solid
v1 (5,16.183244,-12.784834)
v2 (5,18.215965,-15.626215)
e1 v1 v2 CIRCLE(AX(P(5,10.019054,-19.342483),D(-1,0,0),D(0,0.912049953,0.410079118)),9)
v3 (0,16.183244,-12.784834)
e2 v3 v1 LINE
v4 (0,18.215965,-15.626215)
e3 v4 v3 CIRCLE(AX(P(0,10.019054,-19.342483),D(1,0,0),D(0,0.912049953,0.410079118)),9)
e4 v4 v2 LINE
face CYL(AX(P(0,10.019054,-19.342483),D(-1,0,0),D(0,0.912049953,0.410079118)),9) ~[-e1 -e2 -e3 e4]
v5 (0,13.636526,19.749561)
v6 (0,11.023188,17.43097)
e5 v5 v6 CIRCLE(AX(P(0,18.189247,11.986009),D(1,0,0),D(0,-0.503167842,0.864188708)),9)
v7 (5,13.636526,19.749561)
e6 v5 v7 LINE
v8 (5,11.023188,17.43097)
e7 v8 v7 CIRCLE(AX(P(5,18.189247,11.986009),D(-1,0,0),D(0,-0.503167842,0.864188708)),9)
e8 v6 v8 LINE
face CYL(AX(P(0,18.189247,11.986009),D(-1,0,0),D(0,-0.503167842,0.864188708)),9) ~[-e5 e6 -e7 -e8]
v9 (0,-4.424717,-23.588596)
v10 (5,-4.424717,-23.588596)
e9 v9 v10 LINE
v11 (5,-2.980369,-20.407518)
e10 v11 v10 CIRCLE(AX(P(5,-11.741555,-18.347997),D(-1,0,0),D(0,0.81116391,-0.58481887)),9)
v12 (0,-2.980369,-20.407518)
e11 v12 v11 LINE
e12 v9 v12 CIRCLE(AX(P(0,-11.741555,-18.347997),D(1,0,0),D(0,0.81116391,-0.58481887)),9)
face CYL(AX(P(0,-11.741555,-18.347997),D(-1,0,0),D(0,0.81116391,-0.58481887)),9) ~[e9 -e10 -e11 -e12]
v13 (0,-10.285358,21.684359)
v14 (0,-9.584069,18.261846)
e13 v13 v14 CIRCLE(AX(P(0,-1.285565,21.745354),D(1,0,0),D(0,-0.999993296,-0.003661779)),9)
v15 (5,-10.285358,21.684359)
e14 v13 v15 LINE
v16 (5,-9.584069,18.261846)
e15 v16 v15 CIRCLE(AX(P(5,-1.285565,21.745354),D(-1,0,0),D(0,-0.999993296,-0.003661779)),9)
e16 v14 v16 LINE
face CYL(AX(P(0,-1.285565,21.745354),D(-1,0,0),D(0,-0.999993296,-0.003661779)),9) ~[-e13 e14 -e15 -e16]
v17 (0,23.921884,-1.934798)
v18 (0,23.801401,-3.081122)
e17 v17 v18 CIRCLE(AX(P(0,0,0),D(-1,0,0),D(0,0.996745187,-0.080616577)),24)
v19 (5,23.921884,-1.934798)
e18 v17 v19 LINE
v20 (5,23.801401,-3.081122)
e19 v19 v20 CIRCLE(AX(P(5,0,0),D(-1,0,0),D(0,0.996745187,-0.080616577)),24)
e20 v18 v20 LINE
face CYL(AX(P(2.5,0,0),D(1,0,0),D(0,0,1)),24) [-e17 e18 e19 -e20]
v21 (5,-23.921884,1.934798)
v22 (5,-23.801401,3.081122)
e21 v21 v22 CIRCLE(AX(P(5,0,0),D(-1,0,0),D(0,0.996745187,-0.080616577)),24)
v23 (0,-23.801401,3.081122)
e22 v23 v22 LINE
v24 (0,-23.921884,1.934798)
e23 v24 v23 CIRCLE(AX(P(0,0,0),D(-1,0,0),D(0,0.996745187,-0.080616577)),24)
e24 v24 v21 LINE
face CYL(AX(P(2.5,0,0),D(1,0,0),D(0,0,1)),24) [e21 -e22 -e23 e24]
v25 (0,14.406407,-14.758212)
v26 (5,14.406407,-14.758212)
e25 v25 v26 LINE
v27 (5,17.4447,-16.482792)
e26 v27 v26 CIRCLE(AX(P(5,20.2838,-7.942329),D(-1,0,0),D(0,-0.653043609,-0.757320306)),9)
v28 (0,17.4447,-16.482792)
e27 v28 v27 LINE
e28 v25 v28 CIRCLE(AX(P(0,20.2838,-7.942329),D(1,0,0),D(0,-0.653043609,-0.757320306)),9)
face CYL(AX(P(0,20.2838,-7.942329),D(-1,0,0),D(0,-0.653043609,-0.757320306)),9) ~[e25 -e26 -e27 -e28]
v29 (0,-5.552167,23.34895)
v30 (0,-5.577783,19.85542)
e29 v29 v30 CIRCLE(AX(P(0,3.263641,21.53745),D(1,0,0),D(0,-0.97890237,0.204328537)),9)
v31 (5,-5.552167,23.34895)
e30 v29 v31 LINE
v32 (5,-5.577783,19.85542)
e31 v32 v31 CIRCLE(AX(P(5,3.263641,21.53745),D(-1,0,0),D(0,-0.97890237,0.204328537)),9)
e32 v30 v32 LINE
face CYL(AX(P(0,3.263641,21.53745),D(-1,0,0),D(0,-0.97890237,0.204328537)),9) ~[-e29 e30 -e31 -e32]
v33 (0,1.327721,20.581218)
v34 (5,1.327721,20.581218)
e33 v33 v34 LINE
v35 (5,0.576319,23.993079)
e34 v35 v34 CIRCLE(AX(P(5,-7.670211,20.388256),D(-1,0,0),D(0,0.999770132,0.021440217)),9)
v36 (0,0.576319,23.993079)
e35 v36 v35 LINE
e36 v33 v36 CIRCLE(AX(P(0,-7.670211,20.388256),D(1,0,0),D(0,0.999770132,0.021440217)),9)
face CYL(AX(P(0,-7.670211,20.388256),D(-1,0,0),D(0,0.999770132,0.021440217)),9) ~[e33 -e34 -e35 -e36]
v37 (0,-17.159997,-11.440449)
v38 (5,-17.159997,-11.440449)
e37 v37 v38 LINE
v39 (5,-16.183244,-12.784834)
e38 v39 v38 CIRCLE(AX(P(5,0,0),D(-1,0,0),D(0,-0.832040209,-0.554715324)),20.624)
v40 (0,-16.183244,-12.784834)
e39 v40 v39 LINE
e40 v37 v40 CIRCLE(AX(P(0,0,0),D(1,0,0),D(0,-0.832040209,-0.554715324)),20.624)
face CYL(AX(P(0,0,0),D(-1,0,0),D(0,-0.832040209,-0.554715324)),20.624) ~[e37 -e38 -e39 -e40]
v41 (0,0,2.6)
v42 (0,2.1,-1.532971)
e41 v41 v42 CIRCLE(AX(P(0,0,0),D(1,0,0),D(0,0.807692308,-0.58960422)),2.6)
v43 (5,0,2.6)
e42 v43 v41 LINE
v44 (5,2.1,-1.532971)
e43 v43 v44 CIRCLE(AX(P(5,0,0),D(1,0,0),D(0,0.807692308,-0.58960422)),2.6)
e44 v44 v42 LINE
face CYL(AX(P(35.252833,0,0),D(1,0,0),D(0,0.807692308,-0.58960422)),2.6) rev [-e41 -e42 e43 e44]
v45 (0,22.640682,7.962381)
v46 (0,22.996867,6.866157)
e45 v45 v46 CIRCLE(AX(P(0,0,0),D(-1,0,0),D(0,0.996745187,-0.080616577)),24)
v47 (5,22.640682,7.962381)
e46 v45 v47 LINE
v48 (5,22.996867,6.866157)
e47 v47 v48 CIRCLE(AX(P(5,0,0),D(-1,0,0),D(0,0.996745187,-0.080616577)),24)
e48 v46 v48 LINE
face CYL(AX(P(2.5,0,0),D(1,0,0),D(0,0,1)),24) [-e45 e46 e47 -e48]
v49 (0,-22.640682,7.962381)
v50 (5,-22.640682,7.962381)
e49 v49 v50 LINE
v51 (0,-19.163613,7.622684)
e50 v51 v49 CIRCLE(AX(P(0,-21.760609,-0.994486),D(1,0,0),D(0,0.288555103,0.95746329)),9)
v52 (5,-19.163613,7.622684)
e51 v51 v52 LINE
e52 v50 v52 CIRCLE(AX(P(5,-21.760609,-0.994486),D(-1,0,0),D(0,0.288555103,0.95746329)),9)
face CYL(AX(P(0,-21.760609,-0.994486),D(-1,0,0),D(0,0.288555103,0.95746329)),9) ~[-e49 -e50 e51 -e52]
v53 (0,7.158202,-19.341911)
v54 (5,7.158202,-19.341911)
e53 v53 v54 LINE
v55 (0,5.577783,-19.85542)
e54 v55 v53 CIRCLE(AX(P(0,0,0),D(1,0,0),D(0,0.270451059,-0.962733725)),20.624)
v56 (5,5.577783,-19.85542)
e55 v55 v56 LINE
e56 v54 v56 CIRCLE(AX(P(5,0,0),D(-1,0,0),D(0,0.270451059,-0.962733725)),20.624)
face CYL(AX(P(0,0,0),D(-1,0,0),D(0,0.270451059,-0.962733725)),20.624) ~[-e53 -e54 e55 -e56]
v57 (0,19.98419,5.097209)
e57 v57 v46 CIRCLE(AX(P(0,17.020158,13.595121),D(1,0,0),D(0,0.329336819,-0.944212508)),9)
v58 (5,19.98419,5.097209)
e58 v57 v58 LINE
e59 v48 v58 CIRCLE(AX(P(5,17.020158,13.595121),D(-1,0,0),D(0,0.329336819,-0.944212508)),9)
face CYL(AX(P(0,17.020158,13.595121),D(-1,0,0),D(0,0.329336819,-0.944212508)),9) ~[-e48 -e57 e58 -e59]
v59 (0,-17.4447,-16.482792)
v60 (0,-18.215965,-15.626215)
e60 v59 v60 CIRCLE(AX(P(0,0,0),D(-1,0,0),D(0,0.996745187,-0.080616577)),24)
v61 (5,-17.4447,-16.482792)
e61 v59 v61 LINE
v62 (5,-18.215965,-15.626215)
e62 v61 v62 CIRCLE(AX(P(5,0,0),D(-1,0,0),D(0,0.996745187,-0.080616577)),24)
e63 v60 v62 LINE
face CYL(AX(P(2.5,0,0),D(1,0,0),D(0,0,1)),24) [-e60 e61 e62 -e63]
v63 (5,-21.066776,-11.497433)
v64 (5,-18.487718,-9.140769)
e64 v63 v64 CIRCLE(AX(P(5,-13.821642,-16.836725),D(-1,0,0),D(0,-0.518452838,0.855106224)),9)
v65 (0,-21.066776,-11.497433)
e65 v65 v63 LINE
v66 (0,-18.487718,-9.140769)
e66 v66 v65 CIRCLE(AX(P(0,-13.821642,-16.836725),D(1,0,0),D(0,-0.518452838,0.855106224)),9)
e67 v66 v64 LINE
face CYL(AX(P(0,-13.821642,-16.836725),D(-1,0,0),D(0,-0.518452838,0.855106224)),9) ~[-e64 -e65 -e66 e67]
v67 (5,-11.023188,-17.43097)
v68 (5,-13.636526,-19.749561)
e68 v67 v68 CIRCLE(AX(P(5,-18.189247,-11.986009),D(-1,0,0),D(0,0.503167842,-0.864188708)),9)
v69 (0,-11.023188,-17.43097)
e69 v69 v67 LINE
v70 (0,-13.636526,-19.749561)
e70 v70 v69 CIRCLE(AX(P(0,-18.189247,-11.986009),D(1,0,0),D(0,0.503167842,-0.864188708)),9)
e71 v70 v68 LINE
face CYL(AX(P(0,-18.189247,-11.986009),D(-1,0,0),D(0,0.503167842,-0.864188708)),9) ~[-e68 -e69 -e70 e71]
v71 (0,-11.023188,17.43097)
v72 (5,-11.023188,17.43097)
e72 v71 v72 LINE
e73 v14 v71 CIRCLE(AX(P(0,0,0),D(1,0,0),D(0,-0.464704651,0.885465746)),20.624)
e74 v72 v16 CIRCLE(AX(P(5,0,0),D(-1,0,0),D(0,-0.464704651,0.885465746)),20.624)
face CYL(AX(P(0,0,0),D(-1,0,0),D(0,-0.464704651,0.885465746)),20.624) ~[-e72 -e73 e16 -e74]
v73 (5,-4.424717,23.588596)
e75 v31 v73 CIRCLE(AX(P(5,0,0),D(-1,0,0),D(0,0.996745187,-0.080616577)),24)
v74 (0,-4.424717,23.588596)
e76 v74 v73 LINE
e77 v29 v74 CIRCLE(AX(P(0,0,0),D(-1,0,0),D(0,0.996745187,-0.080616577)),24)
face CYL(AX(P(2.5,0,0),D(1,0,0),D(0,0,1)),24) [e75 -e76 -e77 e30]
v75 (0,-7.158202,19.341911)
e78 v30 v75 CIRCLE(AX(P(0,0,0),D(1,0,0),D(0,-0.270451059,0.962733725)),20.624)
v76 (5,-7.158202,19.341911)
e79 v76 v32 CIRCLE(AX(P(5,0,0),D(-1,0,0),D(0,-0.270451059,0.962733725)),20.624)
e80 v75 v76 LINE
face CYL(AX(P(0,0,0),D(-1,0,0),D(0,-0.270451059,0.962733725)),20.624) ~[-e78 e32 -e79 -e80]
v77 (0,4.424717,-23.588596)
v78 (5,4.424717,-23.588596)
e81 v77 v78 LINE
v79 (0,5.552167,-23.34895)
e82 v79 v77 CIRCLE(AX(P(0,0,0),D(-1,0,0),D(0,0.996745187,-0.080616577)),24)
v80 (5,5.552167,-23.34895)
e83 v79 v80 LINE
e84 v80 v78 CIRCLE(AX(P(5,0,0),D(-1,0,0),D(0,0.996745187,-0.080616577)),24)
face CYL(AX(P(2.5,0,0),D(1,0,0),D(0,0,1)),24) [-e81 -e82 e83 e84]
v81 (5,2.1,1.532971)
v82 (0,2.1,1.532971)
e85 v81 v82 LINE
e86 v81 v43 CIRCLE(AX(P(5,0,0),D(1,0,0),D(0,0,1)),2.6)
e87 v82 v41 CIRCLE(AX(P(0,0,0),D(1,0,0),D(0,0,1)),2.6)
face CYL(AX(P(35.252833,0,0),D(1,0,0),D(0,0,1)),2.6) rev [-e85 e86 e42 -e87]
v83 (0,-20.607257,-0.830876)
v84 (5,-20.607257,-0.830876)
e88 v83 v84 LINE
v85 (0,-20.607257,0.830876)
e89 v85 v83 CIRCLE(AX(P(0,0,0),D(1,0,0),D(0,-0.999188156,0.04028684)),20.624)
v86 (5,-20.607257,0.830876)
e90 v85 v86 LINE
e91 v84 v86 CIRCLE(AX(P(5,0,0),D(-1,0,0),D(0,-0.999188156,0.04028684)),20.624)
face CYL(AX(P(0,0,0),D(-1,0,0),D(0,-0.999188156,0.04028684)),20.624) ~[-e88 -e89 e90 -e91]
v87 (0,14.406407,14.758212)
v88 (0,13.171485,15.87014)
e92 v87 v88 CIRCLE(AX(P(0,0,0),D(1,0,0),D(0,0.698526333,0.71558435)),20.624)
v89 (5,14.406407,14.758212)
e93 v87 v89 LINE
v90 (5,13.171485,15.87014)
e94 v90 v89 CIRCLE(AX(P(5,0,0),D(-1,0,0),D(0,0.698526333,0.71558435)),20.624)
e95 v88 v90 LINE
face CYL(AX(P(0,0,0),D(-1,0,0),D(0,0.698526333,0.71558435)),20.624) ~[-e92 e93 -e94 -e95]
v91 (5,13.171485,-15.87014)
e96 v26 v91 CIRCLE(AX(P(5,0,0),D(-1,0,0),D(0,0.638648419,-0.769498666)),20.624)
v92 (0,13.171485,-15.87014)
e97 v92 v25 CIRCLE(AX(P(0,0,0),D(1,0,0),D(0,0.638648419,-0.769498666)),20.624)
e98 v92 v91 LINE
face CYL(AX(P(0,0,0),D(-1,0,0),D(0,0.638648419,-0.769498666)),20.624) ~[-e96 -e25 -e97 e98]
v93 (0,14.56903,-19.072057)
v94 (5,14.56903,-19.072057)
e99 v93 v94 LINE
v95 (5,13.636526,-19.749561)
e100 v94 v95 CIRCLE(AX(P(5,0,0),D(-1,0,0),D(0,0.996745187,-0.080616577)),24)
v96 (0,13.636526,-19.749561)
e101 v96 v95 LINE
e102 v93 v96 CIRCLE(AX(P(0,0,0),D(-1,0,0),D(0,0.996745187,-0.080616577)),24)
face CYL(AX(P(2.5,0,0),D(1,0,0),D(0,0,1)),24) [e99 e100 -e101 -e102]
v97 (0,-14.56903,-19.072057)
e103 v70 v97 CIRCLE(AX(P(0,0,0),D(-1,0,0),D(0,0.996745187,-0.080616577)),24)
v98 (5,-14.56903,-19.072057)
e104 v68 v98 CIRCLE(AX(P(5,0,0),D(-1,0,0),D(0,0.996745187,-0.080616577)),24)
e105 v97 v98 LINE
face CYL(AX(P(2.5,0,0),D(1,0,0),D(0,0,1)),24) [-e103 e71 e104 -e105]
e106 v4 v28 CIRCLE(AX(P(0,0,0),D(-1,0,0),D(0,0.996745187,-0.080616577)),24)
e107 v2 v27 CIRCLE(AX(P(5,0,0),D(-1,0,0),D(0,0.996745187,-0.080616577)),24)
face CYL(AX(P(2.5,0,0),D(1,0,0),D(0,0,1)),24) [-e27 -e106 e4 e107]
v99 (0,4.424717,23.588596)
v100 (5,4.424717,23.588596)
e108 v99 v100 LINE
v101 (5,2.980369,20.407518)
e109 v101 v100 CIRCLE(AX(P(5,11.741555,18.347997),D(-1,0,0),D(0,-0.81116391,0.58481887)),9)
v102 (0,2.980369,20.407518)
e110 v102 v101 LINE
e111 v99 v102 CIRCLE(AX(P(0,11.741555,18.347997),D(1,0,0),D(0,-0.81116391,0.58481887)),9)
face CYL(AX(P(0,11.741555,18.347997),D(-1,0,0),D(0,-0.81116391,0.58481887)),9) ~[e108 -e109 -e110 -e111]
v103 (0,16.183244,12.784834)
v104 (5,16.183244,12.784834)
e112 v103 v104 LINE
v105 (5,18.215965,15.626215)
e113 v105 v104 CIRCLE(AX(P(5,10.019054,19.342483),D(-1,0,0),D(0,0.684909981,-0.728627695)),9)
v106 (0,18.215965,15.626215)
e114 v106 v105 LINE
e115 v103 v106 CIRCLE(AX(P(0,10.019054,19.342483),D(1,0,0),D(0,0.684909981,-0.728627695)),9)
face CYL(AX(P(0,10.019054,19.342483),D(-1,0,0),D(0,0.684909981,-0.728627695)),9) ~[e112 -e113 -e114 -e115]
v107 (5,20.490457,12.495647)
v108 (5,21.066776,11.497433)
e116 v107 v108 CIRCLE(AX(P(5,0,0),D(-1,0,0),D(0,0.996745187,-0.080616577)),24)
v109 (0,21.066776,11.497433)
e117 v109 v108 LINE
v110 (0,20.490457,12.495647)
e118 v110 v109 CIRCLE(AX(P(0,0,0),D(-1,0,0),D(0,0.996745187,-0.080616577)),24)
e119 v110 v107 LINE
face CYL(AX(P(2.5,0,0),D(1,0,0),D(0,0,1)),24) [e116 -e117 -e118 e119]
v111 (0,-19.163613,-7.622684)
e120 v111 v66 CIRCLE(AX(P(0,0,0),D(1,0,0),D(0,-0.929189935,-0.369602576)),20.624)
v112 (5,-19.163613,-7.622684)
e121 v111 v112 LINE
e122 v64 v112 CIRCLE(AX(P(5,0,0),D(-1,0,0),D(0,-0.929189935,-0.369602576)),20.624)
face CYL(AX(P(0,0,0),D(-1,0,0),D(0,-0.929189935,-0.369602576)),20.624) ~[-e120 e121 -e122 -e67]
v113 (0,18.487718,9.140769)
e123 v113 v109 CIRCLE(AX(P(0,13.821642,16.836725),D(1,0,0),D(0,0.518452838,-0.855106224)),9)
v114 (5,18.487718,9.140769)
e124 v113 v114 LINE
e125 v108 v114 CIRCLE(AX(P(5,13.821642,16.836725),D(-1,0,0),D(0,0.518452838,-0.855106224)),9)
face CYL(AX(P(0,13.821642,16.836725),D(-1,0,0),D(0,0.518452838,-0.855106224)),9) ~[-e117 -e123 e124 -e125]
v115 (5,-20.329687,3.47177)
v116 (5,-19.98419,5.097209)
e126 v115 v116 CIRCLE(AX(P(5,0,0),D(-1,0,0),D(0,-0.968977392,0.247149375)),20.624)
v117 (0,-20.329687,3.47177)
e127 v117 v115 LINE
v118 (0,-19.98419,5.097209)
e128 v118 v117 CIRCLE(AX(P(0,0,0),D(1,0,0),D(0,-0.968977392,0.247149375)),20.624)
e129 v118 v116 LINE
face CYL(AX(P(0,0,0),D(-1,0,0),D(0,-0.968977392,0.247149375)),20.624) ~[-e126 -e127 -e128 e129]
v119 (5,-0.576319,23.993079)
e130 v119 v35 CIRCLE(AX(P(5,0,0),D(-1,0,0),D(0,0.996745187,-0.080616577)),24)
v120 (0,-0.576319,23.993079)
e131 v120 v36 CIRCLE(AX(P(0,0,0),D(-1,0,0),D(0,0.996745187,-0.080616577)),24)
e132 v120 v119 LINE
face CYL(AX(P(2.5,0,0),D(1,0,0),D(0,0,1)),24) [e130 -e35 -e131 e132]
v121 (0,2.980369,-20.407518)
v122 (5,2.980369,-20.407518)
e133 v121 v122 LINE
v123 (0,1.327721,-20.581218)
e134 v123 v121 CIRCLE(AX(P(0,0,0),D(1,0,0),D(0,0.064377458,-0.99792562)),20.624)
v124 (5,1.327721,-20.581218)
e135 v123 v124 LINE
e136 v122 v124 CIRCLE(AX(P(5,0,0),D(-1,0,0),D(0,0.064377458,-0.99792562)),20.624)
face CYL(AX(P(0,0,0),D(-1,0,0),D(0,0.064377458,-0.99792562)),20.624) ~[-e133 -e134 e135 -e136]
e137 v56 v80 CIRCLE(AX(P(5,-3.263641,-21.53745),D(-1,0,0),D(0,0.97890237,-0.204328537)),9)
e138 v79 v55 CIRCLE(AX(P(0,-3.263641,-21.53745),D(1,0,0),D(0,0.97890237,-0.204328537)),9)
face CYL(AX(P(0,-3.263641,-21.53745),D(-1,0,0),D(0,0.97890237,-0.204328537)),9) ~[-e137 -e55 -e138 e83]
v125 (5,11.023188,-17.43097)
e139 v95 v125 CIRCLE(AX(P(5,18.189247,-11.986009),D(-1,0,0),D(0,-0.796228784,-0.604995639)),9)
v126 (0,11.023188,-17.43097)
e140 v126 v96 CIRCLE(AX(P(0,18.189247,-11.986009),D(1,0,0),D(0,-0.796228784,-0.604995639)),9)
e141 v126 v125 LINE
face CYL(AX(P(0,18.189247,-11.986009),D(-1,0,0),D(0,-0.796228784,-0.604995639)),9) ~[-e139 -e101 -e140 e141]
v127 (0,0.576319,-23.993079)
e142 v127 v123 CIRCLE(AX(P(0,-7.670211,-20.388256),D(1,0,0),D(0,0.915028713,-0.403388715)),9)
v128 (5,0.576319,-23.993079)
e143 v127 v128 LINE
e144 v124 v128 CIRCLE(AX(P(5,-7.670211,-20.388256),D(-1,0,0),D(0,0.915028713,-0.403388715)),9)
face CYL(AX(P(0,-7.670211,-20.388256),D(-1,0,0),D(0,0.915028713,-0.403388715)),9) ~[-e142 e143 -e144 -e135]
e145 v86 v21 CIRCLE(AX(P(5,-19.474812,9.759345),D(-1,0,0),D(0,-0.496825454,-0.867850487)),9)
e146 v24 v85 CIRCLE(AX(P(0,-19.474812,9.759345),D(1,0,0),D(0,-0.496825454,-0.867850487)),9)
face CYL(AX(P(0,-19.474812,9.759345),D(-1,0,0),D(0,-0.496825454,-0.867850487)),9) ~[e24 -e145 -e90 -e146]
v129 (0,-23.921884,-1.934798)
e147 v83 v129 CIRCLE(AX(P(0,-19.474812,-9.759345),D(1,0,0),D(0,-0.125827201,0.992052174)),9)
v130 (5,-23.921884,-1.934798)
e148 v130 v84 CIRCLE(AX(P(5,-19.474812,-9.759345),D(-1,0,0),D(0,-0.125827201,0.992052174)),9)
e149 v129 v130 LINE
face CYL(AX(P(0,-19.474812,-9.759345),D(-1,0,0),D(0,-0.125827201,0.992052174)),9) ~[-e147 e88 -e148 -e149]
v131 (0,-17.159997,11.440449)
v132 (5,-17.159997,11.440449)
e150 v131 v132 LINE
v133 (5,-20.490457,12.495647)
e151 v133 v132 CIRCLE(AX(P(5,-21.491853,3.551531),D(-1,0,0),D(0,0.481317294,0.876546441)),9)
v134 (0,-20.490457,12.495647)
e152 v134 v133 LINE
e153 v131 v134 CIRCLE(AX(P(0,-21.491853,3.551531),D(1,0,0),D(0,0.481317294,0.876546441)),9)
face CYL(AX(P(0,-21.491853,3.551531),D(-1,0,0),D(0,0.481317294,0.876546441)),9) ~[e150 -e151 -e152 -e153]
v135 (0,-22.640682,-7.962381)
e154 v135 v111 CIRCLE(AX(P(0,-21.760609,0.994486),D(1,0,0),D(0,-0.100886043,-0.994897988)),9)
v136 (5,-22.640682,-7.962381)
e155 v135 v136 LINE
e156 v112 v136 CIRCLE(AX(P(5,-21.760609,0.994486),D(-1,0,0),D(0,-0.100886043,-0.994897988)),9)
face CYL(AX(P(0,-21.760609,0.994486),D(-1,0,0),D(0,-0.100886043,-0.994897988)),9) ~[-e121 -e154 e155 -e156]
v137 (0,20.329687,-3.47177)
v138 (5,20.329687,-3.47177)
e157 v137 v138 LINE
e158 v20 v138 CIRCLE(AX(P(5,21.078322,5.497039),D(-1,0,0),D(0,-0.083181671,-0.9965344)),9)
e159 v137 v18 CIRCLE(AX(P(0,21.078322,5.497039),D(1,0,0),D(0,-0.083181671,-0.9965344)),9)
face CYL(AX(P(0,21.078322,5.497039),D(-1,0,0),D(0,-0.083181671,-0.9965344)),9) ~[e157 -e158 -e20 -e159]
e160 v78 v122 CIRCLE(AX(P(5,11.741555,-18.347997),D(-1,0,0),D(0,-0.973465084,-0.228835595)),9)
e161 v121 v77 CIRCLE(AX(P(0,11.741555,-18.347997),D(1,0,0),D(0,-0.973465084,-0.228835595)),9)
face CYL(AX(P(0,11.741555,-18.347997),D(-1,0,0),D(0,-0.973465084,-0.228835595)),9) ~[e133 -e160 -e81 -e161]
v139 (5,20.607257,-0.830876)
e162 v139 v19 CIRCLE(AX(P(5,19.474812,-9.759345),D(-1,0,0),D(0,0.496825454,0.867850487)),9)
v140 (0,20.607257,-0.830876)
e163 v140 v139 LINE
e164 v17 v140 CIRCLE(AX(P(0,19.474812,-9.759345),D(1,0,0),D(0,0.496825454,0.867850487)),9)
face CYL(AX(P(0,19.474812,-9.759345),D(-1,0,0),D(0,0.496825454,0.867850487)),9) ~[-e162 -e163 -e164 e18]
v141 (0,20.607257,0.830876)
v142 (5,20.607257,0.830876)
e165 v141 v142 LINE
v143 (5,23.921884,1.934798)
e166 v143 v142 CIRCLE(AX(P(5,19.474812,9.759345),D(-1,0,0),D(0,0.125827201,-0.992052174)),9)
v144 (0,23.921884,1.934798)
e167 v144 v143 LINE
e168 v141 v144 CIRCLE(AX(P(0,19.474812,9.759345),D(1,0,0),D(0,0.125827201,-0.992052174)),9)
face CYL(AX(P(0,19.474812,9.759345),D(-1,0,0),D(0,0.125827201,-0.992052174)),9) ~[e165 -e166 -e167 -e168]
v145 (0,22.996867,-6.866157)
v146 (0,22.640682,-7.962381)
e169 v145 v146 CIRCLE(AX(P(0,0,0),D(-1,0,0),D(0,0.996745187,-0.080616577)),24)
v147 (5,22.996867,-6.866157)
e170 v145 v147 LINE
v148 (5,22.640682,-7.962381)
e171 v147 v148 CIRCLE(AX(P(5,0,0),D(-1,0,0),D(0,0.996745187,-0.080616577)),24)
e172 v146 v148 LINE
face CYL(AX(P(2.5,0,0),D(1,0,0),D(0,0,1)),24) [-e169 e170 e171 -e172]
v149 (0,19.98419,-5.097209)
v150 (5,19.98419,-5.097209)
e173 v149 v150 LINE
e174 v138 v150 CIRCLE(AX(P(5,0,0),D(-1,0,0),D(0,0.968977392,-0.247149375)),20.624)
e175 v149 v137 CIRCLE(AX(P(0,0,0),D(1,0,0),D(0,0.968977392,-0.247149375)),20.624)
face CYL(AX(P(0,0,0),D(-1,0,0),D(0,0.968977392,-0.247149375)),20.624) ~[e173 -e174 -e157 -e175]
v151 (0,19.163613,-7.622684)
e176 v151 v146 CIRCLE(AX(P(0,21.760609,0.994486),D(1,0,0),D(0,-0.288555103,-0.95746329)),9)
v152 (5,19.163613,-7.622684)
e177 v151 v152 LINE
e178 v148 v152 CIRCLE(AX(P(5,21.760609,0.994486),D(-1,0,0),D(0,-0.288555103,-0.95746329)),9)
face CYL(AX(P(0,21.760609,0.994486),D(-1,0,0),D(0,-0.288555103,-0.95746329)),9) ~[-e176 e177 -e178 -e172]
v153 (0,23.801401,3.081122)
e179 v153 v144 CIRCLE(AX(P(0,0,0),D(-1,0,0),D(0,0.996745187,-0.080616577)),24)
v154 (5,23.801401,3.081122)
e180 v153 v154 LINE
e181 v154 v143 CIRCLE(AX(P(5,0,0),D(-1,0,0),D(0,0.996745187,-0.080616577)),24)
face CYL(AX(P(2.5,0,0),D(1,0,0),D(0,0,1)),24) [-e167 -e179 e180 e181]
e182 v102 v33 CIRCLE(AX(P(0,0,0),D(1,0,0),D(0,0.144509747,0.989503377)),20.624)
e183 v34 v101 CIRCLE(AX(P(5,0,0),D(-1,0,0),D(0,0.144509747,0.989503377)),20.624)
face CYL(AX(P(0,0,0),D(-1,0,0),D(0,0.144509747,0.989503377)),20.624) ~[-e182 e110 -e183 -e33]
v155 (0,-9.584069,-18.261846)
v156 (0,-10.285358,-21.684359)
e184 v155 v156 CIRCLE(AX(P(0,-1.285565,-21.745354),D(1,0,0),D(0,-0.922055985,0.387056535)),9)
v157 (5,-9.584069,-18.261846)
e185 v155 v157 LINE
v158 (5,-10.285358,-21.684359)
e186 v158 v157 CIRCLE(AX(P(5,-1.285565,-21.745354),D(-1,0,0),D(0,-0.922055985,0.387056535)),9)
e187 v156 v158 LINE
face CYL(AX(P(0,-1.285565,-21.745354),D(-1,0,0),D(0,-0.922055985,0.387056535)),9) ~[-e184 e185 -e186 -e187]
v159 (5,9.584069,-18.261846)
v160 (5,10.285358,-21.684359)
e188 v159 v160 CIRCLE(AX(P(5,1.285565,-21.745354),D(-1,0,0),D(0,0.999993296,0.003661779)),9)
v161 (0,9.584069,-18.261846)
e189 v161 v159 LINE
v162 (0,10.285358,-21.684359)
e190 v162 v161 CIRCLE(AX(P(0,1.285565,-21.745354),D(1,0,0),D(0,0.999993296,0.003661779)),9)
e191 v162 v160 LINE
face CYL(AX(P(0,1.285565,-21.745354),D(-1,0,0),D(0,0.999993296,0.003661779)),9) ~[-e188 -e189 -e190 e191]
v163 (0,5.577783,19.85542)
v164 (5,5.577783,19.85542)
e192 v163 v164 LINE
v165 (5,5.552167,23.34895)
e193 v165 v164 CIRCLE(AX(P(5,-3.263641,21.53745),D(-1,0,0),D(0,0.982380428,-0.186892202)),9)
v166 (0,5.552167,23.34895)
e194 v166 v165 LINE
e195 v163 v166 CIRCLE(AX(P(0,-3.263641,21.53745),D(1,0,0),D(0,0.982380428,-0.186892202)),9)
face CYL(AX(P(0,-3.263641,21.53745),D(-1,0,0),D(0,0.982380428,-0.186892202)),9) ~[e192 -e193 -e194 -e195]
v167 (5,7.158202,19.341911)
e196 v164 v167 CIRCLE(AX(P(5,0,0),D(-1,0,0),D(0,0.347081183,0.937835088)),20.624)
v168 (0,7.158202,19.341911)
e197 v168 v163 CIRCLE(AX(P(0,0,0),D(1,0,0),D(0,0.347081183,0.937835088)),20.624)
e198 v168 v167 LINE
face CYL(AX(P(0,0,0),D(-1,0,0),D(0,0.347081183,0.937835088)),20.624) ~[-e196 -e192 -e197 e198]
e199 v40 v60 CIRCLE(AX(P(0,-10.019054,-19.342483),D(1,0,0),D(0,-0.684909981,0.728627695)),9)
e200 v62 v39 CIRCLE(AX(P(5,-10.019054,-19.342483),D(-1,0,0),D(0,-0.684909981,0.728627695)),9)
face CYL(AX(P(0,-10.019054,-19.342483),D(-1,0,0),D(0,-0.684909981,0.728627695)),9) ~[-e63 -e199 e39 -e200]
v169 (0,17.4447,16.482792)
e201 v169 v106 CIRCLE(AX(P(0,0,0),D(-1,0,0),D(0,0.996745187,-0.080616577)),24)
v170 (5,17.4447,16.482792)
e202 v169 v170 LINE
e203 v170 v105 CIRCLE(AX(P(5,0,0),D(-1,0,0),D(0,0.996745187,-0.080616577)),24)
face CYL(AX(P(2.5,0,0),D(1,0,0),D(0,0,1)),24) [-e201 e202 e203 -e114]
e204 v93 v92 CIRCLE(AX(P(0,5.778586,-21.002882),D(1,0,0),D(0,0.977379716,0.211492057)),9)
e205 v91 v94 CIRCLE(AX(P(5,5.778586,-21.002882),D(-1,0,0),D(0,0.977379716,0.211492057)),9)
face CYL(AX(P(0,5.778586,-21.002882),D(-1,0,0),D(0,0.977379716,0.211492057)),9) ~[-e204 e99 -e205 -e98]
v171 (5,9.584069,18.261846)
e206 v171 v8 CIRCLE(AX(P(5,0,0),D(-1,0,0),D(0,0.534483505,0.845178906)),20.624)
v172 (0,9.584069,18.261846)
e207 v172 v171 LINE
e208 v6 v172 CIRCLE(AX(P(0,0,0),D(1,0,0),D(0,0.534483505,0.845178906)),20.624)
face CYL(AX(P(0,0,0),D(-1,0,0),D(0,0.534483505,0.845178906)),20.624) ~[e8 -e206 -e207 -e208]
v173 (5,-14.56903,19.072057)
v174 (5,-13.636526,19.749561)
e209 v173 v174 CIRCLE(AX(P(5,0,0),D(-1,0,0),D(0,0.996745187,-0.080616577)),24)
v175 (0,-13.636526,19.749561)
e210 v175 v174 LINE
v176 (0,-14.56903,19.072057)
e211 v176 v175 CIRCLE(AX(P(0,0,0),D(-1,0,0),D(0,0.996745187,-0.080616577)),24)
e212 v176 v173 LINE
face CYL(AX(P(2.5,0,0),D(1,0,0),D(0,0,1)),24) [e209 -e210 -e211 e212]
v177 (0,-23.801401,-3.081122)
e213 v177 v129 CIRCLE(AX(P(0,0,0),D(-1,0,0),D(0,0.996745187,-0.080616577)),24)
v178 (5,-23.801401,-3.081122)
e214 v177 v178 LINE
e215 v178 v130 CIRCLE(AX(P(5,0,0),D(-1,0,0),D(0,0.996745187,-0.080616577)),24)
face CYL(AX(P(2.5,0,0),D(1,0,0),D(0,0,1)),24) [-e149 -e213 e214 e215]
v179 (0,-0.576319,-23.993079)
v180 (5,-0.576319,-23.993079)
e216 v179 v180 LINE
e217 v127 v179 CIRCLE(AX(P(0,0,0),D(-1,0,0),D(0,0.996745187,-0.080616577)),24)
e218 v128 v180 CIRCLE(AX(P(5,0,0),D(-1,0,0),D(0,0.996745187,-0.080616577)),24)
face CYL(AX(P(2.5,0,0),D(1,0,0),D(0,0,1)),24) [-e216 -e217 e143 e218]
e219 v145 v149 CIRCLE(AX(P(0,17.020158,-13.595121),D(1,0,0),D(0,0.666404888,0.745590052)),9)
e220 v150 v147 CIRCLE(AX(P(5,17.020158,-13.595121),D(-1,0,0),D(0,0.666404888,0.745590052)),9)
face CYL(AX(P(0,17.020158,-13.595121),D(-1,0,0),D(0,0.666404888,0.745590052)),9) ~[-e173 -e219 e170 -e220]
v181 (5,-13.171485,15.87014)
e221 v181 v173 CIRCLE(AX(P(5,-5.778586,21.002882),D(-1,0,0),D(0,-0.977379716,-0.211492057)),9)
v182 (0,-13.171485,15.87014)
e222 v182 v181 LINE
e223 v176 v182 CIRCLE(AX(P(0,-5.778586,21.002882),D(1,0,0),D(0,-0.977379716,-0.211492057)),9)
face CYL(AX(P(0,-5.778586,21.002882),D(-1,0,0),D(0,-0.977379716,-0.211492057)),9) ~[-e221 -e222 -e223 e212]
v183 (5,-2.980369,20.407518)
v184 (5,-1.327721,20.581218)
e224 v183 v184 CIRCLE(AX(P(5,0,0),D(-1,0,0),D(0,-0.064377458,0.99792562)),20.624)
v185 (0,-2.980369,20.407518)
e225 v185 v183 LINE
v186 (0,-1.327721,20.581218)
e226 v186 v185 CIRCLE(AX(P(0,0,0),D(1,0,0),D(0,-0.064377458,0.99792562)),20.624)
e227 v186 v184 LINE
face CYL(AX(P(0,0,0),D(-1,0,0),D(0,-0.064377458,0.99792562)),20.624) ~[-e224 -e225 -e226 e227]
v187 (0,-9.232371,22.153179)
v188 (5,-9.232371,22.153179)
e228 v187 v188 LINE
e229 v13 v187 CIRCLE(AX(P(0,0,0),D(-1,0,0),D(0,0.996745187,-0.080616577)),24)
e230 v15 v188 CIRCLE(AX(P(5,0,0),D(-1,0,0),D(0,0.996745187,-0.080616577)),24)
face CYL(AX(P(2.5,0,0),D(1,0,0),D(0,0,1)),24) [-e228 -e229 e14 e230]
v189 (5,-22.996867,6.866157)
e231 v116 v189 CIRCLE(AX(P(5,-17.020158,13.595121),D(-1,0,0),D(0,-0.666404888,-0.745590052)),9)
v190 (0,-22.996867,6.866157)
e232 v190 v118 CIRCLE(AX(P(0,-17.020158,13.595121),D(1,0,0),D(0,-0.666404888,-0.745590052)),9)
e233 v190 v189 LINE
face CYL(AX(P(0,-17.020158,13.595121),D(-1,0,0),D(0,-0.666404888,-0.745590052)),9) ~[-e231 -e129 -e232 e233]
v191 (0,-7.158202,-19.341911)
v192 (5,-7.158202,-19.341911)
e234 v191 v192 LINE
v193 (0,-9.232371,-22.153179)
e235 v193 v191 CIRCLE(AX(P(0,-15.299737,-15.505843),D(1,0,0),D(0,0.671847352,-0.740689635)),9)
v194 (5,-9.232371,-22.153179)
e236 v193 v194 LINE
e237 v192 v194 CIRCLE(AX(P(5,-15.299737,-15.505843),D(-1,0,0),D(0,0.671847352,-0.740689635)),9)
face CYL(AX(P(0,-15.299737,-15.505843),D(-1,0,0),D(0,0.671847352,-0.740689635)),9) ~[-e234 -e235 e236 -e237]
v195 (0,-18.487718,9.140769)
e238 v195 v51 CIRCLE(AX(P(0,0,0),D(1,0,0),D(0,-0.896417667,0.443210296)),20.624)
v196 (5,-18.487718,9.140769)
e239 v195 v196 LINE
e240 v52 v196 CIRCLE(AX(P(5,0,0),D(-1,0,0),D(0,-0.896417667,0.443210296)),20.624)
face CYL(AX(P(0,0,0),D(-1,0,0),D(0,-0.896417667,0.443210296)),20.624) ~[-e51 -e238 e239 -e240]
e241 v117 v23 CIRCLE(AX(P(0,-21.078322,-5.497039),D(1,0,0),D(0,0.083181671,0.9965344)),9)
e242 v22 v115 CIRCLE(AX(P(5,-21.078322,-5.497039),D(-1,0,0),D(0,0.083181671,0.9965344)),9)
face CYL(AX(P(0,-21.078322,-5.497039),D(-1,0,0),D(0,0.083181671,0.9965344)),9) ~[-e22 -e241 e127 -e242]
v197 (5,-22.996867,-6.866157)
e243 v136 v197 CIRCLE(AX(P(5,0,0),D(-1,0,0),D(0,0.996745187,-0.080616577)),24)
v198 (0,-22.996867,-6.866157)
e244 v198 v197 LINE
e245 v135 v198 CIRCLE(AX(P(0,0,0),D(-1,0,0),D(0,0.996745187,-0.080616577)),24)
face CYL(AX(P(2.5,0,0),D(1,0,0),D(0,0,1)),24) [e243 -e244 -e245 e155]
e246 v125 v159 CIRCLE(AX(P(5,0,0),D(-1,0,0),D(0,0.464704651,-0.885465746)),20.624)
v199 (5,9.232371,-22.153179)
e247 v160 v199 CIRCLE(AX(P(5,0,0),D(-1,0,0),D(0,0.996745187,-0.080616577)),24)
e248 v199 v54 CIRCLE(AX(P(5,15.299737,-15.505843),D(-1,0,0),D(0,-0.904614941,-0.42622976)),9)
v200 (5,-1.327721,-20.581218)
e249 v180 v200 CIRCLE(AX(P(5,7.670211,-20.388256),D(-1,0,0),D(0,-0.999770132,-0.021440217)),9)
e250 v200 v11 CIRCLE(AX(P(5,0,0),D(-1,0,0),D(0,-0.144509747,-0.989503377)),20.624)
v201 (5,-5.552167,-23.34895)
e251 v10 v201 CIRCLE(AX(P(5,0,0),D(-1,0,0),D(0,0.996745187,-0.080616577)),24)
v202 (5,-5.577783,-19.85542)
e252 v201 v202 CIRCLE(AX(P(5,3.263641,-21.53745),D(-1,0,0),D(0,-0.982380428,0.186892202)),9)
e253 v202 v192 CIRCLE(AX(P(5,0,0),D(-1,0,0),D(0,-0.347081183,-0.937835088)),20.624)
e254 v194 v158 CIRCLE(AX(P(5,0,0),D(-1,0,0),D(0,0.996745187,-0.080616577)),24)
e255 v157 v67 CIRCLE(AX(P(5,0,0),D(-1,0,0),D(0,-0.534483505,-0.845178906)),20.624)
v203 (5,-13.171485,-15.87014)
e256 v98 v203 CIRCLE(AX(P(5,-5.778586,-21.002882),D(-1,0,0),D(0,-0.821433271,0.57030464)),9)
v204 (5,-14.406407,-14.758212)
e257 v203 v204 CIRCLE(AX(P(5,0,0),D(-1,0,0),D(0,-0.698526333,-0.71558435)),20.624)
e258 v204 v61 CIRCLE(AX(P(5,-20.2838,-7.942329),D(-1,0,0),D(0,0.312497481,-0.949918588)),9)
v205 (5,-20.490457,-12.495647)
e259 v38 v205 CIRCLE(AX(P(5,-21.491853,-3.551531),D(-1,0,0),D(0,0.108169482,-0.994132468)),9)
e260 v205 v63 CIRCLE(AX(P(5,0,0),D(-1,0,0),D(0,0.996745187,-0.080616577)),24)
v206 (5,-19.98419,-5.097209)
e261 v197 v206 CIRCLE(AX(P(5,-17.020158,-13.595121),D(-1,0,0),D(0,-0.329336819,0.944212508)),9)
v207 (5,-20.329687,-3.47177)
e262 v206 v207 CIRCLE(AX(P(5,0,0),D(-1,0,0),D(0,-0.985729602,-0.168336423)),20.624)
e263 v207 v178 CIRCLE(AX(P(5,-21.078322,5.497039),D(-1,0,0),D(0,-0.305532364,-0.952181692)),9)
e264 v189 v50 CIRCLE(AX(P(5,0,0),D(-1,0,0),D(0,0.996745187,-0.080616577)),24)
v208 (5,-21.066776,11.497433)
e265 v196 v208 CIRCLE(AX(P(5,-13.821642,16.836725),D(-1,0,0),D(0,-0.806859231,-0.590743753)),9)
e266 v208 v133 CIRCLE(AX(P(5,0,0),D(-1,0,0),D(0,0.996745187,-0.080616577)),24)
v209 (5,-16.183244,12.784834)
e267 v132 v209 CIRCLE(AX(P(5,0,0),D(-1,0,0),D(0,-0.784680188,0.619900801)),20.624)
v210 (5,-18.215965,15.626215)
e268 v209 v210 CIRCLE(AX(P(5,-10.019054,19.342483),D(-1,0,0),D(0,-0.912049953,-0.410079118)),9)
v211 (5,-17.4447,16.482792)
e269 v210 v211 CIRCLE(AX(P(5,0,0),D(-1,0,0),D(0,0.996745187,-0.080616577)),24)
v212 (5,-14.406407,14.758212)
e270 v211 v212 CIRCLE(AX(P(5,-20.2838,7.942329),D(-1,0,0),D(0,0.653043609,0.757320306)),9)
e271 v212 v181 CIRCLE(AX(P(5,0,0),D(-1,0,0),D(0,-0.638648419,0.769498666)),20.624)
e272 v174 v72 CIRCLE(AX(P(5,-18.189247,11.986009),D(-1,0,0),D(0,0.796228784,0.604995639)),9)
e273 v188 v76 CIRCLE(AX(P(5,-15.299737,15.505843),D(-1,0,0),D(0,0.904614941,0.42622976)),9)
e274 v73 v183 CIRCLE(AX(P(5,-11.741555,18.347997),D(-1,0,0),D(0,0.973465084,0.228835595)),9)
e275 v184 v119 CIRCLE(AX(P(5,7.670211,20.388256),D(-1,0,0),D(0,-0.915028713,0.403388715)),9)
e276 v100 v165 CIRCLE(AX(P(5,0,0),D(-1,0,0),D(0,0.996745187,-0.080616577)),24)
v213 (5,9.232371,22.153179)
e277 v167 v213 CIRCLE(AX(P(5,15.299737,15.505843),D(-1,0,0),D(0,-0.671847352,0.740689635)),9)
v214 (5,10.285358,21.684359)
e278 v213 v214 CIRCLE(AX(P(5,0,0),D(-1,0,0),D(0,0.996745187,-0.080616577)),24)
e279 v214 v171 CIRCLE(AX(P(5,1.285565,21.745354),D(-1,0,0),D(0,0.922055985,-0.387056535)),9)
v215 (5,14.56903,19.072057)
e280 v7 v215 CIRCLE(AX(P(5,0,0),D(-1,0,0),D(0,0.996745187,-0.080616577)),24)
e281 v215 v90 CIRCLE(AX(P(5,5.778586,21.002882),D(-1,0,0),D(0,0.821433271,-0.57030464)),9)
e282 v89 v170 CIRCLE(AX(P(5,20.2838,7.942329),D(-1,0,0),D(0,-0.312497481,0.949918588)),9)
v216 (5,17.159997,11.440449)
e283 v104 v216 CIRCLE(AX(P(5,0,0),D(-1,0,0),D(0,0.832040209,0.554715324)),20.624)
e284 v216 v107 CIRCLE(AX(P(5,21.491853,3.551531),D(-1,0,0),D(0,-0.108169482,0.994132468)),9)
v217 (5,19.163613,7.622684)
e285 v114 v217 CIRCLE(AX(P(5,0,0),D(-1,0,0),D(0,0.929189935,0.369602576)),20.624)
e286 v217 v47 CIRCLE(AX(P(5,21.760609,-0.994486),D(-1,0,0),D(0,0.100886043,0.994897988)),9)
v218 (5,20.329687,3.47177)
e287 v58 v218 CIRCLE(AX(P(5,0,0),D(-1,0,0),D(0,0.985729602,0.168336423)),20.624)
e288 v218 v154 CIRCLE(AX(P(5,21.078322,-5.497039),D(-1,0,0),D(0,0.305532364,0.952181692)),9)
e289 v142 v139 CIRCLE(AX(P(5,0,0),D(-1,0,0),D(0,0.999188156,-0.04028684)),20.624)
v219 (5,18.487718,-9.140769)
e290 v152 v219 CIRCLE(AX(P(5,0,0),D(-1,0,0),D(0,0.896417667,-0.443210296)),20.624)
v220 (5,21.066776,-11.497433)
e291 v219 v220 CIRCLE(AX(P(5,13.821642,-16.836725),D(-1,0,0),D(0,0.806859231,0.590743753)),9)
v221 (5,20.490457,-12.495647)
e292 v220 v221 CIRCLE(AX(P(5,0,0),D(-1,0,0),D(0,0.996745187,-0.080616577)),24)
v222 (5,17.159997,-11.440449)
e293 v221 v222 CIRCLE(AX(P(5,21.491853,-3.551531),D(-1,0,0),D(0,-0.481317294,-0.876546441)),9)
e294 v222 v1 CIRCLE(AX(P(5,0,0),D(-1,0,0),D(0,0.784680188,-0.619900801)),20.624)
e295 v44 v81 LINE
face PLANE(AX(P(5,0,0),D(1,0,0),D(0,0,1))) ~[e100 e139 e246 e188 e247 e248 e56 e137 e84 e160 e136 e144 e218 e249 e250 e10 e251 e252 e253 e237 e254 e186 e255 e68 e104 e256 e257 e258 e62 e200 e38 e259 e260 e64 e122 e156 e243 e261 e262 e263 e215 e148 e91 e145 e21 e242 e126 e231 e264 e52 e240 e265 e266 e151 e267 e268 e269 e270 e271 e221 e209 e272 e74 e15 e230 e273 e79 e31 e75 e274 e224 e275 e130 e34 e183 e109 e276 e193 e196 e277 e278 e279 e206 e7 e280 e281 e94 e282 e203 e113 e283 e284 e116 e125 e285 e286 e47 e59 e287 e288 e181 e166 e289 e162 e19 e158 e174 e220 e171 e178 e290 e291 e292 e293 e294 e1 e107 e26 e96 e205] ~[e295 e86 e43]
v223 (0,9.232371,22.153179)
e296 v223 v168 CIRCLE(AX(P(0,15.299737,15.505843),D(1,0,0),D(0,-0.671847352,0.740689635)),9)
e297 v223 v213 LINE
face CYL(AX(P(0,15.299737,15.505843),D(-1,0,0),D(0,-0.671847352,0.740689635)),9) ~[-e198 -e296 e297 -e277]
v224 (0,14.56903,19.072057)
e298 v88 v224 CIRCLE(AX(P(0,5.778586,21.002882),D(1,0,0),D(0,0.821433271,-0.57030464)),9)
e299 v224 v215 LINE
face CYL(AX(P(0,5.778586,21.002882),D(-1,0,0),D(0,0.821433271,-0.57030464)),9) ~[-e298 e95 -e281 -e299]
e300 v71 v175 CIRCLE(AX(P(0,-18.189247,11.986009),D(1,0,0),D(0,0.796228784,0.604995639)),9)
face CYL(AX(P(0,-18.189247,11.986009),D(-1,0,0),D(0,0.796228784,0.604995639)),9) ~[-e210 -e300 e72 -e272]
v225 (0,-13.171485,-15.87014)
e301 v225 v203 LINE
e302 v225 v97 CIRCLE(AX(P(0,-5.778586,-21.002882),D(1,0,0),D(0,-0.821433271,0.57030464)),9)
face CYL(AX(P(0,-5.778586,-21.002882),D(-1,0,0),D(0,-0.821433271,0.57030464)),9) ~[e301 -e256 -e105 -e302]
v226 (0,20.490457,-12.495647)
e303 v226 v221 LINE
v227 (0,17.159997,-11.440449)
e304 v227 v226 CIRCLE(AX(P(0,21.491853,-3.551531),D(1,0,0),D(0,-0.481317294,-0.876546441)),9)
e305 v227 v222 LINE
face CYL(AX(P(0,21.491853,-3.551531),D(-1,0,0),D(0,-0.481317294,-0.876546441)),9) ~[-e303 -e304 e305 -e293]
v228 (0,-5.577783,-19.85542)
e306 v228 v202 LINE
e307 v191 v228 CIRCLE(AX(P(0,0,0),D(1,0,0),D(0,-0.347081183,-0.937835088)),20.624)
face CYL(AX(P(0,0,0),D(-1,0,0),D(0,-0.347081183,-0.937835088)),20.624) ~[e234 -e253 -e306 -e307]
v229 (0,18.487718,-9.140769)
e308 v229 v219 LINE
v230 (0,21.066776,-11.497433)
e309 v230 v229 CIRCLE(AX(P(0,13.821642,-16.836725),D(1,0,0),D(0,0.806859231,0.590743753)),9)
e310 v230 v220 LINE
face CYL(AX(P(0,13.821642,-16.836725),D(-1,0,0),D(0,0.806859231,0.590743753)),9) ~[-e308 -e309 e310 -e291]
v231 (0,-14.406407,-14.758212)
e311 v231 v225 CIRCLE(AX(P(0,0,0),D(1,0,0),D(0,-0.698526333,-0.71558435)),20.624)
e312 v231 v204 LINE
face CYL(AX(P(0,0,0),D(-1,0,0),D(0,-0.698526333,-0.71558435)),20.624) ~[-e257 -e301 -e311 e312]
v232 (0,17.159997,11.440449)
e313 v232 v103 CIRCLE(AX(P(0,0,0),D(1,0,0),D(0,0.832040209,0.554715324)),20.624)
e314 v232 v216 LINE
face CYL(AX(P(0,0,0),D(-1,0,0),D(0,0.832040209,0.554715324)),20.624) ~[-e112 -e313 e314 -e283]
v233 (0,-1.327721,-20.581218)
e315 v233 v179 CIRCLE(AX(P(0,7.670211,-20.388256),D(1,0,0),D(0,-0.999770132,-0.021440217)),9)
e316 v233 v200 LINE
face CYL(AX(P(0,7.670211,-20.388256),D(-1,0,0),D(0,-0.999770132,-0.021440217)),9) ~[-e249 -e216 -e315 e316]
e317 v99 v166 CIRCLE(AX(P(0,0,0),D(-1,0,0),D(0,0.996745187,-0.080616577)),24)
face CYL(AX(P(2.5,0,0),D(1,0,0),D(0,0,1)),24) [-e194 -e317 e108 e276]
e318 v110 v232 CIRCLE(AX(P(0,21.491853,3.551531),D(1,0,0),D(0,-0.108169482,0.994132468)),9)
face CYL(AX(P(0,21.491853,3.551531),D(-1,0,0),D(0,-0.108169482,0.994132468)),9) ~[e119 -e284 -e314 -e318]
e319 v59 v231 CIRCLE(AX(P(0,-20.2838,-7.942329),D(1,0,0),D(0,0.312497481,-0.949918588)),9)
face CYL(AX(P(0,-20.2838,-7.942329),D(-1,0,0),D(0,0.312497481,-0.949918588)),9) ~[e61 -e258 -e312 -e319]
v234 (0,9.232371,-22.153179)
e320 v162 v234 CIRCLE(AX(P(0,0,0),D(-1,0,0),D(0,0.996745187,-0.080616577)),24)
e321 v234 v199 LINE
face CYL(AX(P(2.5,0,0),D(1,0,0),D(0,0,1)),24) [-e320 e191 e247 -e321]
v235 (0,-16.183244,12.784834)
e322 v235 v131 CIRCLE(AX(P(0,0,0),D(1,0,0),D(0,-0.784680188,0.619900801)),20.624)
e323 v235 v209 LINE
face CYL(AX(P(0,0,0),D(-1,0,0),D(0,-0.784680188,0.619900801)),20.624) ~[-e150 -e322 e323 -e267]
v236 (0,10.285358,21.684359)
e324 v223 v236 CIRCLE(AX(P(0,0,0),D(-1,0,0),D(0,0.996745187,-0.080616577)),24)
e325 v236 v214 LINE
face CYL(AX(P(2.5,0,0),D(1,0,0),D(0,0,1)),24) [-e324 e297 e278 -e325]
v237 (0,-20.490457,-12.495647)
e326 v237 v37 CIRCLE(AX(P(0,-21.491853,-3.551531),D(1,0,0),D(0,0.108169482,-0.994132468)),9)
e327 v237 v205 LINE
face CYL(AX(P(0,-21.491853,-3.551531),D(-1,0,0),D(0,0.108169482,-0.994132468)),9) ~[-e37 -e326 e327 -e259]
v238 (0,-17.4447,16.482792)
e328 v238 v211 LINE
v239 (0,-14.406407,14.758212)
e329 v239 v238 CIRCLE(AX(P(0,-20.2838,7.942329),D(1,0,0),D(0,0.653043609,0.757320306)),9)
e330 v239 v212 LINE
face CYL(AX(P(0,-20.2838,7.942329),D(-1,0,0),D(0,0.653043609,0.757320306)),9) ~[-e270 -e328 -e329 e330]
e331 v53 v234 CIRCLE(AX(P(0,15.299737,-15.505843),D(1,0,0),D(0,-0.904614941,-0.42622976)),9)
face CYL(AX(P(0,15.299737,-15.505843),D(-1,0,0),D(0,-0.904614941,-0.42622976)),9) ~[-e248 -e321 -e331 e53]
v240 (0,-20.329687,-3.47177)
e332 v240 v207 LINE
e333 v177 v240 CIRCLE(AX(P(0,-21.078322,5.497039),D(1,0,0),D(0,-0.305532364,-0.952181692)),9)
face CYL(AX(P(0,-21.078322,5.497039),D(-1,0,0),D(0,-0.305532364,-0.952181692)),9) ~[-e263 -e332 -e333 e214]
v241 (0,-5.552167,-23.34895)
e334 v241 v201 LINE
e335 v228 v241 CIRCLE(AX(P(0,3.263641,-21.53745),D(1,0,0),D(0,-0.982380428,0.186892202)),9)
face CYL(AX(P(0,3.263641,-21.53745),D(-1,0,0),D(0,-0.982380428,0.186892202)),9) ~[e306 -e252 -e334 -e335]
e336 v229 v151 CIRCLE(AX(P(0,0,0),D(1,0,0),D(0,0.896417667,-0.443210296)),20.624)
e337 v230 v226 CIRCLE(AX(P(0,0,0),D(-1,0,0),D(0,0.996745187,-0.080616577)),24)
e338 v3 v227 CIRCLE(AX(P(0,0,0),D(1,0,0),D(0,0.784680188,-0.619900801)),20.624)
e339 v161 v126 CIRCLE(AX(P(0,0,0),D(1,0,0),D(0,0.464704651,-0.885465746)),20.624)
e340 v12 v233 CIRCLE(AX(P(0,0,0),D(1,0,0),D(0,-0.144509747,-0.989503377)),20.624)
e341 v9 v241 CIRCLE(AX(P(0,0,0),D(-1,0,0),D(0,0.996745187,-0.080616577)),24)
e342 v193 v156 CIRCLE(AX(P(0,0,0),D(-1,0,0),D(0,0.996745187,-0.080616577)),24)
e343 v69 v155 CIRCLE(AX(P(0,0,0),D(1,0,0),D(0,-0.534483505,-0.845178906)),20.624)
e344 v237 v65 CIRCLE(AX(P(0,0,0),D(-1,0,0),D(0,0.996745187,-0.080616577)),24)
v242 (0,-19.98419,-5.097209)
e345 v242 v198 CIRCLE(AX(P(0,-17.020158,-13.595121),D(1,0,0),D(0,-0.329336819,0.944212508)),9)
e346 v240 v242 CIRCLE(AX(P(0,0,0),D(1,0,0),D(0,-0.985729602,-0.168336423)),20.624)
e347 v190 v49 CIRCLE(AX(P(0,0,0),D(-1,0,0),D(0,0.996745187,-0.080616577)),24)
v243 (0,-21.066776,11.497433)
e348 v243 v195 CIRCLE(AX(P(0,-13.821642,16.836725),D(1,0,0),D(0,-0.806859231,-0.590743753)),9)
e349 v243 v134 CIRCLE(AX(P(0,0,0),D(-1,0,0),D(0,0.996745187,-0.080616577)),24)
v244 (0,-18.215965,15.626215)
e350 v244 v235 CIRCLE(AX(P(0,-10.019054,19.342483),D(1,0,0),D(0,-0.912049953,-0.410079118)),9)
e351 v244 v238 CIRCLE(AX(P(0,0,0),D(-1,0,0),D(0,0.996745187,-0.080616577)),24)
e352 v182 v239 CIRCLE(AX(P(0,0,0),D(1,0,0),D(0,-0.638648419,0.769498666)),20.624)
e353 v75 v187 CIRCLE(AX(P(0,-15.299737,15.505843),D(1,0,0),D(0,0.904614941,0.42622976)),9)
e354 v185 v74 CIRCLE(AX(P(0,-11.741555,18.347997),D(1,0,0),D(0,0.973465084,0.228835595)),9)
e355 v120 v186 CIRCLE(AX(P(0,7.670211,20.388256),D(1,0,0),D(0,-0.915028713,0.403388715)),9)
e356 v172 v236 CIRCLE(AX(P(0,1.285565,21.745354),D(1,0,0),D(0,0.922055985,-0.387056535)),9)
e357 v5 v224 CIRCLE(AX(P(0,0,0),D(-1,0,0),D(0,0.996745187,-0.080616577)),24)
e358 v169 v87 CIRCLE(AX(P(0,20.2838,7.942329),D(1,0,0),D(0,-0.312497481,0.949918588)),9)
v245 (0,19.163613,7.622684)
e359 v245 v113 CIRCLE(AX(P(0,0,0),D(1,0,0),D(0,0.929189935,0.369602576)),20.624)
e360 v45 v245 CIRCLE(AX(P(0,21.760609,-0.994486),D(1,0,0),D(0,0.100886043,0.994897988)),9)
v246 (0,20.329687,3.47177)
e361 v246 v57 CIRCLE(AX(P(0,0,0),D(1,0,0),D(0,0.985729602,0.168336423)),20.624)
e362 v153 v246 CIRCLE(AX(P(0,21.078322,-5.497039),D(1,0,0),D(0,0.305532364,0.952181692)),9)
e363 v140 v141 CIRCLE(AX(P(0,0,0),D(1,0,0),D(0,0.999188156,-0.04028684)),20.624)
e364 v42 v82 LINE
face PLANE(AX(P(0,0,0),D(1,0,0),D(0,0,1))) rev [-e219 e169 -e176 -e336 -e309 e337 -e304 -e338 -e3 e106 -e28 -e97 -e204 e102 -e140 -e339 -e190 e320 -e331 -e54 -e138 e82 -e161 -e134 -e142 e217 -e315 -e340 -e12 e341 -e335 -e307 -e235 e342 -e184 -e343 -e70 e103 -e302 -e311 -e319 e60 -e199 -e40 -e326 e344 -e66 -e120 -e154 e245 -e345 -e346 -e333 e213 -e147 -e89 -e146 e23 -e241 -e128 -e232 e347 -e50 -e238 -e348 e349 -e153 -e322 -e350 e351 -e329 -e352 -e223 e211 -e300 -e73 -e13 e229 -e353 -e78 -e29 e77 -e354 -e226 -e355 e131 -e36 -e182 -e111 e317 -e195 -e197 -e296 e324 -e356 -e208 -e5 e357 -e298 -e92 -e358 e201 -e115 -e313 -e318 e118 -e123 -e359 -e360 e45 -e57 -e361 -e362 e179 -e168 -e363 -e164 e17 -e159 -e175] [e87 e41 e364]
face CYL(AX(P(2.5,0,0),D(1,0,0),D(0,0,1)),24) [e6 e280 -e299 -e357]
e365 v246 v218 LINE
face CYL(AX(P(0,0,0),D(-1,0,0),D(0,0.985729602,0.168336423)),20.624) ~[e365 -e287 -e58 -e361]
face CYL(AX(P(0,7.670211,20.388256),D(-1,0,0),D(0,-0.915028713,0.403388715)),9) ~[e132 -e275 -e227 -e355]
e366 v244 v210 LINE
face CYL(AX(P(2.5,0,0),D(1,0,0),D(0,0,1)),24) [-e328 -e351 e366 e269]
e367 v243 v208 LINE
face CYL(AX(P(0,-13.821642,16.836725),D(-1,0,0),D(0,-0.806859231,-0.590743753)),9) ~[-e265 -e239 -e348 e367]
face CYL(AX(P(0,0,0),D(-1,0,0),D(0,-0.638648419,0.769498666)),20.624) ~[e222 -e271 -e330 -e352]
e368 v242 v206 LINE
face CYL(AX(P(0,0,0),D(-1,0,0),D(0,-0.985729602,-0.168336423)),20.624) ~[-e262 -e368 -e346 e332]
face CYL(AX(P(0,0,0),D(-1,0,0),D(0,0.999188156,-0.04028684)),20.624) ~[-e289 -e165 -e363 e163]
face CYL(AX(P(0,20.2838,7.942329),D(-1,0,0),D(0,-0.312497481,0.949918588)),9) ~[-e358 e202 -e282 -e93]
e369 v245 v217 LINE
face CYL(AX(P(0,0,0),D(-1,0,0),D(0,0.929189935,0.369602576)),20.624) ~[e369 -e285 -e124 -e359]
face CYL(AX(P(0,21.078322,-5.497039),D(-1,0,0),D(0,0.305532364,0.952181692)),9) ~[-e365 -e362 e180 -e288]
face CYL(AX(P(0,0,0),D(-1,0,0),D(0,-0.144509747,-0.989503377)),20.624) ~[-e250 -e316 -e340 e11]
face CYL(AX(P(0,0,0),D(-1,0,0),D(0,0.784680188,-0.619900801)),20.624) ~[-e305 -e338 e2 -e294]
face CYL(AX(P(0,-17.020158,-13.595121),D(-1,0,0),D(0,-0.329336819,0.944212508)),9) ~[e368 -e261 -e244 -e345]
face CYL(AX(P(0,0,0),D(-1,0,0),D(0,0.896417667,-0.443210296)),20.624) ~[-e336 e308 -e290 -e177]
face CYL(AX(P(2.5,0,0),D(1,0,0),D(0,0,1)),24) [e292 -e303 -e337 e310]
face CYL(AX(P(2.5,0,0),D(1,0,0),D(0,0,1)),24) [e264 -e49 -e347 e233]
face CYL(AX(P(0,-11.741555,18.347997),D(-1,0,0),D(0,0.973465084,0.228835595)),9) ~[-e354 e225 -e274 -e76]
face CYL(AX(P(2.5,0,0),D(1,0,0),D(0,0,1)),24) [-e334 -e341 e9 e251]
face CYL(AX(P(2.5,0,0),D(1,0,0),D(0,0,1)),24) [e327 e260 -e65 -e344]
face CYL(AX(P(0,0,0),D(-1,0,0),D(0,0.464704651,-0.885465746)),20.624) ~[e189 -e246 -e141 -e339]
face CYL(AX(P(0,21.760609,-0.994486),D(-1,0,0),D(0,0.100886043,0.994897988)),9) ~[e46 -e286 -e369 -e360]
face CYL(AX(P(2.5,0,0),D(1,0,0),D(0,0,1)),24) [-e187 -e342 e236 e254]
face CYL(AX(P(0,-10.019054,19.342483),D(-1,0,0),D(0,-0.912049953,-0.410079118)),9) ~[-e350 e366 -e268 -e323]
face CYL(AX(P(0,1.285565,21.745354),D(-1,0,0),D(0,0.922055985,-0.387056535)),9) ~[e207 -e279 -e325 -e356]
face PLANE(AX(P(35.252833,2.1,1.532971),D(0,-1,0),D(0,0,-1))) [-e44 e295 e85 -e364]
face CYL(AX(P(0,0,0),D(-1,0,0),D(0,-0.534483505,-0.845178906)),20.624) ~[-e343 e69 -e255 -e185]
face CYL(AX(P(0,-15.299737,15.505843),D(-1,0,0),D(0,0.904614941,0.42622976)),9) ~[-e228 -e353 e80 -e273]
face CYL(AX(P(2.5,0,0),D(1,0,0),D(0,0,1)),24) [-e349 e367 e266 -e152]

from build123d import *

# Parameters (mm, degrees)
BASPROSKE_W                   = 5
BASPROSKE_H                   = 24
TOOTHCUT_DEPTH                = 35.307433597
TEETHCUTS_COUNT               = 30
TEETHCUTS_ANGLE               = 348
BORSKE_R                      = 1
BORE_DEPTH                    = 50.0000508
TAGLIO_ESTRUSIONE1_DEPTH      = 35.252832836
TAGLIO_ESTRUSIONE1_DEPTH_BACK = 35.252832836


with BuildPart() as part:
    # BasProSke → Base-Revolve (revolve)
    with BuildSketch(Plane(origin=(0, 0, 0), x_dir=(1, 0, 0), z_dir=(0, 1, 0)), mode=Mode.PRIVATE) as base_revolve_sk:
        with Locations((2.5, 12)):
            Rectangle(BASPROSKE_W, BASPROSKE_H)
    revolve(base_revolve_sk.sketch.rotate(Axis((-10, 0, 0), (1, 0, 0)), 180), axis=Axis((-10, 0, 0), (1, 0, 0)))

    # TooCutSke → ToothCut (cut, through all)
    with BuildSketch(Plane(origin=(0, 0, 0), x_dir=(0, 0, -1), z_dir=(1, 0, 0))):
        with BuildLine():
            ThreePointArc((0.830875803, 20.607256523), (0, 20.624), (-0.830875803, 20.607256523))
            ThreePointArc((-0.830875803, 20.607256523), (-1.224899184, 22.331948106), (-1.948690982, 23.946240803))
            ThreePointArc((-1.948690982, 23.946240803), (0, 24.0254), (1.948690982, 23.946240803))
            ThreePointArc((1.948690982, 23.946240803), (1.224899184, 22.331948106), (0.830875803, 20.607256523))
        make_face()
    toothcut = extrude(amount=TOOTHCUT_DEPTH, mode=Mode.SUBTRACT)

    # TeethCuts: ToothCut ×30 about axis
    teethcuts_axis = Axis((-10, 0, 0), (1, 0, 0))
    for i in range(1, TEETHCUTS_COUNT):
        add(toothcut.rotate(teethcuts_axis, i * TEETHCUTS_ANGLE / (TEETHCUTS_COUNT - 1)), mode=Mode.SUBTRACT)

    # BorSke → Bore (cut, symmetric)
    with BuildSketch(Plane(origin=(0, 0, 0), x_dir=(0, 0, -1), z_dir=(1, 0, 0))):
        with Locations(Location((0, 0, 0), (0, 0, 180))):
            Circle(BORSKE_R)
    extrude(amount=BORE_DEPTH, both=True, mode=Mode.SUBTRACT)

    # Schizzo2 → Taglio-Estrusione1 (cut, two sides: drawn at the far end of the back side and taken through both)
    with BuildSketch(Plane.ZY.offset(-TAGLIO_ESTRUSIONE1_DEPTH_BACK)):
        with BuildLine():
            Line((1.532970972, 2.1), (-1.532970972, 2.1))
            ThreePointArc((-1.532970972, 2.1), (-1.177768117, -2.317943542), (2.6, 0))
            ThreePointArc((2.6, 0), (2.317943542, 1.177768117), (1.532970972, 2.1))
        make_face()
    extrude(amount=TAGLIO_ESTRUSIONE1_DEPTH + TAGLIO_ESTRUSIONE1_DEPTH_BACK, mode=Mode.SUBTRACT)


solid = part.part
